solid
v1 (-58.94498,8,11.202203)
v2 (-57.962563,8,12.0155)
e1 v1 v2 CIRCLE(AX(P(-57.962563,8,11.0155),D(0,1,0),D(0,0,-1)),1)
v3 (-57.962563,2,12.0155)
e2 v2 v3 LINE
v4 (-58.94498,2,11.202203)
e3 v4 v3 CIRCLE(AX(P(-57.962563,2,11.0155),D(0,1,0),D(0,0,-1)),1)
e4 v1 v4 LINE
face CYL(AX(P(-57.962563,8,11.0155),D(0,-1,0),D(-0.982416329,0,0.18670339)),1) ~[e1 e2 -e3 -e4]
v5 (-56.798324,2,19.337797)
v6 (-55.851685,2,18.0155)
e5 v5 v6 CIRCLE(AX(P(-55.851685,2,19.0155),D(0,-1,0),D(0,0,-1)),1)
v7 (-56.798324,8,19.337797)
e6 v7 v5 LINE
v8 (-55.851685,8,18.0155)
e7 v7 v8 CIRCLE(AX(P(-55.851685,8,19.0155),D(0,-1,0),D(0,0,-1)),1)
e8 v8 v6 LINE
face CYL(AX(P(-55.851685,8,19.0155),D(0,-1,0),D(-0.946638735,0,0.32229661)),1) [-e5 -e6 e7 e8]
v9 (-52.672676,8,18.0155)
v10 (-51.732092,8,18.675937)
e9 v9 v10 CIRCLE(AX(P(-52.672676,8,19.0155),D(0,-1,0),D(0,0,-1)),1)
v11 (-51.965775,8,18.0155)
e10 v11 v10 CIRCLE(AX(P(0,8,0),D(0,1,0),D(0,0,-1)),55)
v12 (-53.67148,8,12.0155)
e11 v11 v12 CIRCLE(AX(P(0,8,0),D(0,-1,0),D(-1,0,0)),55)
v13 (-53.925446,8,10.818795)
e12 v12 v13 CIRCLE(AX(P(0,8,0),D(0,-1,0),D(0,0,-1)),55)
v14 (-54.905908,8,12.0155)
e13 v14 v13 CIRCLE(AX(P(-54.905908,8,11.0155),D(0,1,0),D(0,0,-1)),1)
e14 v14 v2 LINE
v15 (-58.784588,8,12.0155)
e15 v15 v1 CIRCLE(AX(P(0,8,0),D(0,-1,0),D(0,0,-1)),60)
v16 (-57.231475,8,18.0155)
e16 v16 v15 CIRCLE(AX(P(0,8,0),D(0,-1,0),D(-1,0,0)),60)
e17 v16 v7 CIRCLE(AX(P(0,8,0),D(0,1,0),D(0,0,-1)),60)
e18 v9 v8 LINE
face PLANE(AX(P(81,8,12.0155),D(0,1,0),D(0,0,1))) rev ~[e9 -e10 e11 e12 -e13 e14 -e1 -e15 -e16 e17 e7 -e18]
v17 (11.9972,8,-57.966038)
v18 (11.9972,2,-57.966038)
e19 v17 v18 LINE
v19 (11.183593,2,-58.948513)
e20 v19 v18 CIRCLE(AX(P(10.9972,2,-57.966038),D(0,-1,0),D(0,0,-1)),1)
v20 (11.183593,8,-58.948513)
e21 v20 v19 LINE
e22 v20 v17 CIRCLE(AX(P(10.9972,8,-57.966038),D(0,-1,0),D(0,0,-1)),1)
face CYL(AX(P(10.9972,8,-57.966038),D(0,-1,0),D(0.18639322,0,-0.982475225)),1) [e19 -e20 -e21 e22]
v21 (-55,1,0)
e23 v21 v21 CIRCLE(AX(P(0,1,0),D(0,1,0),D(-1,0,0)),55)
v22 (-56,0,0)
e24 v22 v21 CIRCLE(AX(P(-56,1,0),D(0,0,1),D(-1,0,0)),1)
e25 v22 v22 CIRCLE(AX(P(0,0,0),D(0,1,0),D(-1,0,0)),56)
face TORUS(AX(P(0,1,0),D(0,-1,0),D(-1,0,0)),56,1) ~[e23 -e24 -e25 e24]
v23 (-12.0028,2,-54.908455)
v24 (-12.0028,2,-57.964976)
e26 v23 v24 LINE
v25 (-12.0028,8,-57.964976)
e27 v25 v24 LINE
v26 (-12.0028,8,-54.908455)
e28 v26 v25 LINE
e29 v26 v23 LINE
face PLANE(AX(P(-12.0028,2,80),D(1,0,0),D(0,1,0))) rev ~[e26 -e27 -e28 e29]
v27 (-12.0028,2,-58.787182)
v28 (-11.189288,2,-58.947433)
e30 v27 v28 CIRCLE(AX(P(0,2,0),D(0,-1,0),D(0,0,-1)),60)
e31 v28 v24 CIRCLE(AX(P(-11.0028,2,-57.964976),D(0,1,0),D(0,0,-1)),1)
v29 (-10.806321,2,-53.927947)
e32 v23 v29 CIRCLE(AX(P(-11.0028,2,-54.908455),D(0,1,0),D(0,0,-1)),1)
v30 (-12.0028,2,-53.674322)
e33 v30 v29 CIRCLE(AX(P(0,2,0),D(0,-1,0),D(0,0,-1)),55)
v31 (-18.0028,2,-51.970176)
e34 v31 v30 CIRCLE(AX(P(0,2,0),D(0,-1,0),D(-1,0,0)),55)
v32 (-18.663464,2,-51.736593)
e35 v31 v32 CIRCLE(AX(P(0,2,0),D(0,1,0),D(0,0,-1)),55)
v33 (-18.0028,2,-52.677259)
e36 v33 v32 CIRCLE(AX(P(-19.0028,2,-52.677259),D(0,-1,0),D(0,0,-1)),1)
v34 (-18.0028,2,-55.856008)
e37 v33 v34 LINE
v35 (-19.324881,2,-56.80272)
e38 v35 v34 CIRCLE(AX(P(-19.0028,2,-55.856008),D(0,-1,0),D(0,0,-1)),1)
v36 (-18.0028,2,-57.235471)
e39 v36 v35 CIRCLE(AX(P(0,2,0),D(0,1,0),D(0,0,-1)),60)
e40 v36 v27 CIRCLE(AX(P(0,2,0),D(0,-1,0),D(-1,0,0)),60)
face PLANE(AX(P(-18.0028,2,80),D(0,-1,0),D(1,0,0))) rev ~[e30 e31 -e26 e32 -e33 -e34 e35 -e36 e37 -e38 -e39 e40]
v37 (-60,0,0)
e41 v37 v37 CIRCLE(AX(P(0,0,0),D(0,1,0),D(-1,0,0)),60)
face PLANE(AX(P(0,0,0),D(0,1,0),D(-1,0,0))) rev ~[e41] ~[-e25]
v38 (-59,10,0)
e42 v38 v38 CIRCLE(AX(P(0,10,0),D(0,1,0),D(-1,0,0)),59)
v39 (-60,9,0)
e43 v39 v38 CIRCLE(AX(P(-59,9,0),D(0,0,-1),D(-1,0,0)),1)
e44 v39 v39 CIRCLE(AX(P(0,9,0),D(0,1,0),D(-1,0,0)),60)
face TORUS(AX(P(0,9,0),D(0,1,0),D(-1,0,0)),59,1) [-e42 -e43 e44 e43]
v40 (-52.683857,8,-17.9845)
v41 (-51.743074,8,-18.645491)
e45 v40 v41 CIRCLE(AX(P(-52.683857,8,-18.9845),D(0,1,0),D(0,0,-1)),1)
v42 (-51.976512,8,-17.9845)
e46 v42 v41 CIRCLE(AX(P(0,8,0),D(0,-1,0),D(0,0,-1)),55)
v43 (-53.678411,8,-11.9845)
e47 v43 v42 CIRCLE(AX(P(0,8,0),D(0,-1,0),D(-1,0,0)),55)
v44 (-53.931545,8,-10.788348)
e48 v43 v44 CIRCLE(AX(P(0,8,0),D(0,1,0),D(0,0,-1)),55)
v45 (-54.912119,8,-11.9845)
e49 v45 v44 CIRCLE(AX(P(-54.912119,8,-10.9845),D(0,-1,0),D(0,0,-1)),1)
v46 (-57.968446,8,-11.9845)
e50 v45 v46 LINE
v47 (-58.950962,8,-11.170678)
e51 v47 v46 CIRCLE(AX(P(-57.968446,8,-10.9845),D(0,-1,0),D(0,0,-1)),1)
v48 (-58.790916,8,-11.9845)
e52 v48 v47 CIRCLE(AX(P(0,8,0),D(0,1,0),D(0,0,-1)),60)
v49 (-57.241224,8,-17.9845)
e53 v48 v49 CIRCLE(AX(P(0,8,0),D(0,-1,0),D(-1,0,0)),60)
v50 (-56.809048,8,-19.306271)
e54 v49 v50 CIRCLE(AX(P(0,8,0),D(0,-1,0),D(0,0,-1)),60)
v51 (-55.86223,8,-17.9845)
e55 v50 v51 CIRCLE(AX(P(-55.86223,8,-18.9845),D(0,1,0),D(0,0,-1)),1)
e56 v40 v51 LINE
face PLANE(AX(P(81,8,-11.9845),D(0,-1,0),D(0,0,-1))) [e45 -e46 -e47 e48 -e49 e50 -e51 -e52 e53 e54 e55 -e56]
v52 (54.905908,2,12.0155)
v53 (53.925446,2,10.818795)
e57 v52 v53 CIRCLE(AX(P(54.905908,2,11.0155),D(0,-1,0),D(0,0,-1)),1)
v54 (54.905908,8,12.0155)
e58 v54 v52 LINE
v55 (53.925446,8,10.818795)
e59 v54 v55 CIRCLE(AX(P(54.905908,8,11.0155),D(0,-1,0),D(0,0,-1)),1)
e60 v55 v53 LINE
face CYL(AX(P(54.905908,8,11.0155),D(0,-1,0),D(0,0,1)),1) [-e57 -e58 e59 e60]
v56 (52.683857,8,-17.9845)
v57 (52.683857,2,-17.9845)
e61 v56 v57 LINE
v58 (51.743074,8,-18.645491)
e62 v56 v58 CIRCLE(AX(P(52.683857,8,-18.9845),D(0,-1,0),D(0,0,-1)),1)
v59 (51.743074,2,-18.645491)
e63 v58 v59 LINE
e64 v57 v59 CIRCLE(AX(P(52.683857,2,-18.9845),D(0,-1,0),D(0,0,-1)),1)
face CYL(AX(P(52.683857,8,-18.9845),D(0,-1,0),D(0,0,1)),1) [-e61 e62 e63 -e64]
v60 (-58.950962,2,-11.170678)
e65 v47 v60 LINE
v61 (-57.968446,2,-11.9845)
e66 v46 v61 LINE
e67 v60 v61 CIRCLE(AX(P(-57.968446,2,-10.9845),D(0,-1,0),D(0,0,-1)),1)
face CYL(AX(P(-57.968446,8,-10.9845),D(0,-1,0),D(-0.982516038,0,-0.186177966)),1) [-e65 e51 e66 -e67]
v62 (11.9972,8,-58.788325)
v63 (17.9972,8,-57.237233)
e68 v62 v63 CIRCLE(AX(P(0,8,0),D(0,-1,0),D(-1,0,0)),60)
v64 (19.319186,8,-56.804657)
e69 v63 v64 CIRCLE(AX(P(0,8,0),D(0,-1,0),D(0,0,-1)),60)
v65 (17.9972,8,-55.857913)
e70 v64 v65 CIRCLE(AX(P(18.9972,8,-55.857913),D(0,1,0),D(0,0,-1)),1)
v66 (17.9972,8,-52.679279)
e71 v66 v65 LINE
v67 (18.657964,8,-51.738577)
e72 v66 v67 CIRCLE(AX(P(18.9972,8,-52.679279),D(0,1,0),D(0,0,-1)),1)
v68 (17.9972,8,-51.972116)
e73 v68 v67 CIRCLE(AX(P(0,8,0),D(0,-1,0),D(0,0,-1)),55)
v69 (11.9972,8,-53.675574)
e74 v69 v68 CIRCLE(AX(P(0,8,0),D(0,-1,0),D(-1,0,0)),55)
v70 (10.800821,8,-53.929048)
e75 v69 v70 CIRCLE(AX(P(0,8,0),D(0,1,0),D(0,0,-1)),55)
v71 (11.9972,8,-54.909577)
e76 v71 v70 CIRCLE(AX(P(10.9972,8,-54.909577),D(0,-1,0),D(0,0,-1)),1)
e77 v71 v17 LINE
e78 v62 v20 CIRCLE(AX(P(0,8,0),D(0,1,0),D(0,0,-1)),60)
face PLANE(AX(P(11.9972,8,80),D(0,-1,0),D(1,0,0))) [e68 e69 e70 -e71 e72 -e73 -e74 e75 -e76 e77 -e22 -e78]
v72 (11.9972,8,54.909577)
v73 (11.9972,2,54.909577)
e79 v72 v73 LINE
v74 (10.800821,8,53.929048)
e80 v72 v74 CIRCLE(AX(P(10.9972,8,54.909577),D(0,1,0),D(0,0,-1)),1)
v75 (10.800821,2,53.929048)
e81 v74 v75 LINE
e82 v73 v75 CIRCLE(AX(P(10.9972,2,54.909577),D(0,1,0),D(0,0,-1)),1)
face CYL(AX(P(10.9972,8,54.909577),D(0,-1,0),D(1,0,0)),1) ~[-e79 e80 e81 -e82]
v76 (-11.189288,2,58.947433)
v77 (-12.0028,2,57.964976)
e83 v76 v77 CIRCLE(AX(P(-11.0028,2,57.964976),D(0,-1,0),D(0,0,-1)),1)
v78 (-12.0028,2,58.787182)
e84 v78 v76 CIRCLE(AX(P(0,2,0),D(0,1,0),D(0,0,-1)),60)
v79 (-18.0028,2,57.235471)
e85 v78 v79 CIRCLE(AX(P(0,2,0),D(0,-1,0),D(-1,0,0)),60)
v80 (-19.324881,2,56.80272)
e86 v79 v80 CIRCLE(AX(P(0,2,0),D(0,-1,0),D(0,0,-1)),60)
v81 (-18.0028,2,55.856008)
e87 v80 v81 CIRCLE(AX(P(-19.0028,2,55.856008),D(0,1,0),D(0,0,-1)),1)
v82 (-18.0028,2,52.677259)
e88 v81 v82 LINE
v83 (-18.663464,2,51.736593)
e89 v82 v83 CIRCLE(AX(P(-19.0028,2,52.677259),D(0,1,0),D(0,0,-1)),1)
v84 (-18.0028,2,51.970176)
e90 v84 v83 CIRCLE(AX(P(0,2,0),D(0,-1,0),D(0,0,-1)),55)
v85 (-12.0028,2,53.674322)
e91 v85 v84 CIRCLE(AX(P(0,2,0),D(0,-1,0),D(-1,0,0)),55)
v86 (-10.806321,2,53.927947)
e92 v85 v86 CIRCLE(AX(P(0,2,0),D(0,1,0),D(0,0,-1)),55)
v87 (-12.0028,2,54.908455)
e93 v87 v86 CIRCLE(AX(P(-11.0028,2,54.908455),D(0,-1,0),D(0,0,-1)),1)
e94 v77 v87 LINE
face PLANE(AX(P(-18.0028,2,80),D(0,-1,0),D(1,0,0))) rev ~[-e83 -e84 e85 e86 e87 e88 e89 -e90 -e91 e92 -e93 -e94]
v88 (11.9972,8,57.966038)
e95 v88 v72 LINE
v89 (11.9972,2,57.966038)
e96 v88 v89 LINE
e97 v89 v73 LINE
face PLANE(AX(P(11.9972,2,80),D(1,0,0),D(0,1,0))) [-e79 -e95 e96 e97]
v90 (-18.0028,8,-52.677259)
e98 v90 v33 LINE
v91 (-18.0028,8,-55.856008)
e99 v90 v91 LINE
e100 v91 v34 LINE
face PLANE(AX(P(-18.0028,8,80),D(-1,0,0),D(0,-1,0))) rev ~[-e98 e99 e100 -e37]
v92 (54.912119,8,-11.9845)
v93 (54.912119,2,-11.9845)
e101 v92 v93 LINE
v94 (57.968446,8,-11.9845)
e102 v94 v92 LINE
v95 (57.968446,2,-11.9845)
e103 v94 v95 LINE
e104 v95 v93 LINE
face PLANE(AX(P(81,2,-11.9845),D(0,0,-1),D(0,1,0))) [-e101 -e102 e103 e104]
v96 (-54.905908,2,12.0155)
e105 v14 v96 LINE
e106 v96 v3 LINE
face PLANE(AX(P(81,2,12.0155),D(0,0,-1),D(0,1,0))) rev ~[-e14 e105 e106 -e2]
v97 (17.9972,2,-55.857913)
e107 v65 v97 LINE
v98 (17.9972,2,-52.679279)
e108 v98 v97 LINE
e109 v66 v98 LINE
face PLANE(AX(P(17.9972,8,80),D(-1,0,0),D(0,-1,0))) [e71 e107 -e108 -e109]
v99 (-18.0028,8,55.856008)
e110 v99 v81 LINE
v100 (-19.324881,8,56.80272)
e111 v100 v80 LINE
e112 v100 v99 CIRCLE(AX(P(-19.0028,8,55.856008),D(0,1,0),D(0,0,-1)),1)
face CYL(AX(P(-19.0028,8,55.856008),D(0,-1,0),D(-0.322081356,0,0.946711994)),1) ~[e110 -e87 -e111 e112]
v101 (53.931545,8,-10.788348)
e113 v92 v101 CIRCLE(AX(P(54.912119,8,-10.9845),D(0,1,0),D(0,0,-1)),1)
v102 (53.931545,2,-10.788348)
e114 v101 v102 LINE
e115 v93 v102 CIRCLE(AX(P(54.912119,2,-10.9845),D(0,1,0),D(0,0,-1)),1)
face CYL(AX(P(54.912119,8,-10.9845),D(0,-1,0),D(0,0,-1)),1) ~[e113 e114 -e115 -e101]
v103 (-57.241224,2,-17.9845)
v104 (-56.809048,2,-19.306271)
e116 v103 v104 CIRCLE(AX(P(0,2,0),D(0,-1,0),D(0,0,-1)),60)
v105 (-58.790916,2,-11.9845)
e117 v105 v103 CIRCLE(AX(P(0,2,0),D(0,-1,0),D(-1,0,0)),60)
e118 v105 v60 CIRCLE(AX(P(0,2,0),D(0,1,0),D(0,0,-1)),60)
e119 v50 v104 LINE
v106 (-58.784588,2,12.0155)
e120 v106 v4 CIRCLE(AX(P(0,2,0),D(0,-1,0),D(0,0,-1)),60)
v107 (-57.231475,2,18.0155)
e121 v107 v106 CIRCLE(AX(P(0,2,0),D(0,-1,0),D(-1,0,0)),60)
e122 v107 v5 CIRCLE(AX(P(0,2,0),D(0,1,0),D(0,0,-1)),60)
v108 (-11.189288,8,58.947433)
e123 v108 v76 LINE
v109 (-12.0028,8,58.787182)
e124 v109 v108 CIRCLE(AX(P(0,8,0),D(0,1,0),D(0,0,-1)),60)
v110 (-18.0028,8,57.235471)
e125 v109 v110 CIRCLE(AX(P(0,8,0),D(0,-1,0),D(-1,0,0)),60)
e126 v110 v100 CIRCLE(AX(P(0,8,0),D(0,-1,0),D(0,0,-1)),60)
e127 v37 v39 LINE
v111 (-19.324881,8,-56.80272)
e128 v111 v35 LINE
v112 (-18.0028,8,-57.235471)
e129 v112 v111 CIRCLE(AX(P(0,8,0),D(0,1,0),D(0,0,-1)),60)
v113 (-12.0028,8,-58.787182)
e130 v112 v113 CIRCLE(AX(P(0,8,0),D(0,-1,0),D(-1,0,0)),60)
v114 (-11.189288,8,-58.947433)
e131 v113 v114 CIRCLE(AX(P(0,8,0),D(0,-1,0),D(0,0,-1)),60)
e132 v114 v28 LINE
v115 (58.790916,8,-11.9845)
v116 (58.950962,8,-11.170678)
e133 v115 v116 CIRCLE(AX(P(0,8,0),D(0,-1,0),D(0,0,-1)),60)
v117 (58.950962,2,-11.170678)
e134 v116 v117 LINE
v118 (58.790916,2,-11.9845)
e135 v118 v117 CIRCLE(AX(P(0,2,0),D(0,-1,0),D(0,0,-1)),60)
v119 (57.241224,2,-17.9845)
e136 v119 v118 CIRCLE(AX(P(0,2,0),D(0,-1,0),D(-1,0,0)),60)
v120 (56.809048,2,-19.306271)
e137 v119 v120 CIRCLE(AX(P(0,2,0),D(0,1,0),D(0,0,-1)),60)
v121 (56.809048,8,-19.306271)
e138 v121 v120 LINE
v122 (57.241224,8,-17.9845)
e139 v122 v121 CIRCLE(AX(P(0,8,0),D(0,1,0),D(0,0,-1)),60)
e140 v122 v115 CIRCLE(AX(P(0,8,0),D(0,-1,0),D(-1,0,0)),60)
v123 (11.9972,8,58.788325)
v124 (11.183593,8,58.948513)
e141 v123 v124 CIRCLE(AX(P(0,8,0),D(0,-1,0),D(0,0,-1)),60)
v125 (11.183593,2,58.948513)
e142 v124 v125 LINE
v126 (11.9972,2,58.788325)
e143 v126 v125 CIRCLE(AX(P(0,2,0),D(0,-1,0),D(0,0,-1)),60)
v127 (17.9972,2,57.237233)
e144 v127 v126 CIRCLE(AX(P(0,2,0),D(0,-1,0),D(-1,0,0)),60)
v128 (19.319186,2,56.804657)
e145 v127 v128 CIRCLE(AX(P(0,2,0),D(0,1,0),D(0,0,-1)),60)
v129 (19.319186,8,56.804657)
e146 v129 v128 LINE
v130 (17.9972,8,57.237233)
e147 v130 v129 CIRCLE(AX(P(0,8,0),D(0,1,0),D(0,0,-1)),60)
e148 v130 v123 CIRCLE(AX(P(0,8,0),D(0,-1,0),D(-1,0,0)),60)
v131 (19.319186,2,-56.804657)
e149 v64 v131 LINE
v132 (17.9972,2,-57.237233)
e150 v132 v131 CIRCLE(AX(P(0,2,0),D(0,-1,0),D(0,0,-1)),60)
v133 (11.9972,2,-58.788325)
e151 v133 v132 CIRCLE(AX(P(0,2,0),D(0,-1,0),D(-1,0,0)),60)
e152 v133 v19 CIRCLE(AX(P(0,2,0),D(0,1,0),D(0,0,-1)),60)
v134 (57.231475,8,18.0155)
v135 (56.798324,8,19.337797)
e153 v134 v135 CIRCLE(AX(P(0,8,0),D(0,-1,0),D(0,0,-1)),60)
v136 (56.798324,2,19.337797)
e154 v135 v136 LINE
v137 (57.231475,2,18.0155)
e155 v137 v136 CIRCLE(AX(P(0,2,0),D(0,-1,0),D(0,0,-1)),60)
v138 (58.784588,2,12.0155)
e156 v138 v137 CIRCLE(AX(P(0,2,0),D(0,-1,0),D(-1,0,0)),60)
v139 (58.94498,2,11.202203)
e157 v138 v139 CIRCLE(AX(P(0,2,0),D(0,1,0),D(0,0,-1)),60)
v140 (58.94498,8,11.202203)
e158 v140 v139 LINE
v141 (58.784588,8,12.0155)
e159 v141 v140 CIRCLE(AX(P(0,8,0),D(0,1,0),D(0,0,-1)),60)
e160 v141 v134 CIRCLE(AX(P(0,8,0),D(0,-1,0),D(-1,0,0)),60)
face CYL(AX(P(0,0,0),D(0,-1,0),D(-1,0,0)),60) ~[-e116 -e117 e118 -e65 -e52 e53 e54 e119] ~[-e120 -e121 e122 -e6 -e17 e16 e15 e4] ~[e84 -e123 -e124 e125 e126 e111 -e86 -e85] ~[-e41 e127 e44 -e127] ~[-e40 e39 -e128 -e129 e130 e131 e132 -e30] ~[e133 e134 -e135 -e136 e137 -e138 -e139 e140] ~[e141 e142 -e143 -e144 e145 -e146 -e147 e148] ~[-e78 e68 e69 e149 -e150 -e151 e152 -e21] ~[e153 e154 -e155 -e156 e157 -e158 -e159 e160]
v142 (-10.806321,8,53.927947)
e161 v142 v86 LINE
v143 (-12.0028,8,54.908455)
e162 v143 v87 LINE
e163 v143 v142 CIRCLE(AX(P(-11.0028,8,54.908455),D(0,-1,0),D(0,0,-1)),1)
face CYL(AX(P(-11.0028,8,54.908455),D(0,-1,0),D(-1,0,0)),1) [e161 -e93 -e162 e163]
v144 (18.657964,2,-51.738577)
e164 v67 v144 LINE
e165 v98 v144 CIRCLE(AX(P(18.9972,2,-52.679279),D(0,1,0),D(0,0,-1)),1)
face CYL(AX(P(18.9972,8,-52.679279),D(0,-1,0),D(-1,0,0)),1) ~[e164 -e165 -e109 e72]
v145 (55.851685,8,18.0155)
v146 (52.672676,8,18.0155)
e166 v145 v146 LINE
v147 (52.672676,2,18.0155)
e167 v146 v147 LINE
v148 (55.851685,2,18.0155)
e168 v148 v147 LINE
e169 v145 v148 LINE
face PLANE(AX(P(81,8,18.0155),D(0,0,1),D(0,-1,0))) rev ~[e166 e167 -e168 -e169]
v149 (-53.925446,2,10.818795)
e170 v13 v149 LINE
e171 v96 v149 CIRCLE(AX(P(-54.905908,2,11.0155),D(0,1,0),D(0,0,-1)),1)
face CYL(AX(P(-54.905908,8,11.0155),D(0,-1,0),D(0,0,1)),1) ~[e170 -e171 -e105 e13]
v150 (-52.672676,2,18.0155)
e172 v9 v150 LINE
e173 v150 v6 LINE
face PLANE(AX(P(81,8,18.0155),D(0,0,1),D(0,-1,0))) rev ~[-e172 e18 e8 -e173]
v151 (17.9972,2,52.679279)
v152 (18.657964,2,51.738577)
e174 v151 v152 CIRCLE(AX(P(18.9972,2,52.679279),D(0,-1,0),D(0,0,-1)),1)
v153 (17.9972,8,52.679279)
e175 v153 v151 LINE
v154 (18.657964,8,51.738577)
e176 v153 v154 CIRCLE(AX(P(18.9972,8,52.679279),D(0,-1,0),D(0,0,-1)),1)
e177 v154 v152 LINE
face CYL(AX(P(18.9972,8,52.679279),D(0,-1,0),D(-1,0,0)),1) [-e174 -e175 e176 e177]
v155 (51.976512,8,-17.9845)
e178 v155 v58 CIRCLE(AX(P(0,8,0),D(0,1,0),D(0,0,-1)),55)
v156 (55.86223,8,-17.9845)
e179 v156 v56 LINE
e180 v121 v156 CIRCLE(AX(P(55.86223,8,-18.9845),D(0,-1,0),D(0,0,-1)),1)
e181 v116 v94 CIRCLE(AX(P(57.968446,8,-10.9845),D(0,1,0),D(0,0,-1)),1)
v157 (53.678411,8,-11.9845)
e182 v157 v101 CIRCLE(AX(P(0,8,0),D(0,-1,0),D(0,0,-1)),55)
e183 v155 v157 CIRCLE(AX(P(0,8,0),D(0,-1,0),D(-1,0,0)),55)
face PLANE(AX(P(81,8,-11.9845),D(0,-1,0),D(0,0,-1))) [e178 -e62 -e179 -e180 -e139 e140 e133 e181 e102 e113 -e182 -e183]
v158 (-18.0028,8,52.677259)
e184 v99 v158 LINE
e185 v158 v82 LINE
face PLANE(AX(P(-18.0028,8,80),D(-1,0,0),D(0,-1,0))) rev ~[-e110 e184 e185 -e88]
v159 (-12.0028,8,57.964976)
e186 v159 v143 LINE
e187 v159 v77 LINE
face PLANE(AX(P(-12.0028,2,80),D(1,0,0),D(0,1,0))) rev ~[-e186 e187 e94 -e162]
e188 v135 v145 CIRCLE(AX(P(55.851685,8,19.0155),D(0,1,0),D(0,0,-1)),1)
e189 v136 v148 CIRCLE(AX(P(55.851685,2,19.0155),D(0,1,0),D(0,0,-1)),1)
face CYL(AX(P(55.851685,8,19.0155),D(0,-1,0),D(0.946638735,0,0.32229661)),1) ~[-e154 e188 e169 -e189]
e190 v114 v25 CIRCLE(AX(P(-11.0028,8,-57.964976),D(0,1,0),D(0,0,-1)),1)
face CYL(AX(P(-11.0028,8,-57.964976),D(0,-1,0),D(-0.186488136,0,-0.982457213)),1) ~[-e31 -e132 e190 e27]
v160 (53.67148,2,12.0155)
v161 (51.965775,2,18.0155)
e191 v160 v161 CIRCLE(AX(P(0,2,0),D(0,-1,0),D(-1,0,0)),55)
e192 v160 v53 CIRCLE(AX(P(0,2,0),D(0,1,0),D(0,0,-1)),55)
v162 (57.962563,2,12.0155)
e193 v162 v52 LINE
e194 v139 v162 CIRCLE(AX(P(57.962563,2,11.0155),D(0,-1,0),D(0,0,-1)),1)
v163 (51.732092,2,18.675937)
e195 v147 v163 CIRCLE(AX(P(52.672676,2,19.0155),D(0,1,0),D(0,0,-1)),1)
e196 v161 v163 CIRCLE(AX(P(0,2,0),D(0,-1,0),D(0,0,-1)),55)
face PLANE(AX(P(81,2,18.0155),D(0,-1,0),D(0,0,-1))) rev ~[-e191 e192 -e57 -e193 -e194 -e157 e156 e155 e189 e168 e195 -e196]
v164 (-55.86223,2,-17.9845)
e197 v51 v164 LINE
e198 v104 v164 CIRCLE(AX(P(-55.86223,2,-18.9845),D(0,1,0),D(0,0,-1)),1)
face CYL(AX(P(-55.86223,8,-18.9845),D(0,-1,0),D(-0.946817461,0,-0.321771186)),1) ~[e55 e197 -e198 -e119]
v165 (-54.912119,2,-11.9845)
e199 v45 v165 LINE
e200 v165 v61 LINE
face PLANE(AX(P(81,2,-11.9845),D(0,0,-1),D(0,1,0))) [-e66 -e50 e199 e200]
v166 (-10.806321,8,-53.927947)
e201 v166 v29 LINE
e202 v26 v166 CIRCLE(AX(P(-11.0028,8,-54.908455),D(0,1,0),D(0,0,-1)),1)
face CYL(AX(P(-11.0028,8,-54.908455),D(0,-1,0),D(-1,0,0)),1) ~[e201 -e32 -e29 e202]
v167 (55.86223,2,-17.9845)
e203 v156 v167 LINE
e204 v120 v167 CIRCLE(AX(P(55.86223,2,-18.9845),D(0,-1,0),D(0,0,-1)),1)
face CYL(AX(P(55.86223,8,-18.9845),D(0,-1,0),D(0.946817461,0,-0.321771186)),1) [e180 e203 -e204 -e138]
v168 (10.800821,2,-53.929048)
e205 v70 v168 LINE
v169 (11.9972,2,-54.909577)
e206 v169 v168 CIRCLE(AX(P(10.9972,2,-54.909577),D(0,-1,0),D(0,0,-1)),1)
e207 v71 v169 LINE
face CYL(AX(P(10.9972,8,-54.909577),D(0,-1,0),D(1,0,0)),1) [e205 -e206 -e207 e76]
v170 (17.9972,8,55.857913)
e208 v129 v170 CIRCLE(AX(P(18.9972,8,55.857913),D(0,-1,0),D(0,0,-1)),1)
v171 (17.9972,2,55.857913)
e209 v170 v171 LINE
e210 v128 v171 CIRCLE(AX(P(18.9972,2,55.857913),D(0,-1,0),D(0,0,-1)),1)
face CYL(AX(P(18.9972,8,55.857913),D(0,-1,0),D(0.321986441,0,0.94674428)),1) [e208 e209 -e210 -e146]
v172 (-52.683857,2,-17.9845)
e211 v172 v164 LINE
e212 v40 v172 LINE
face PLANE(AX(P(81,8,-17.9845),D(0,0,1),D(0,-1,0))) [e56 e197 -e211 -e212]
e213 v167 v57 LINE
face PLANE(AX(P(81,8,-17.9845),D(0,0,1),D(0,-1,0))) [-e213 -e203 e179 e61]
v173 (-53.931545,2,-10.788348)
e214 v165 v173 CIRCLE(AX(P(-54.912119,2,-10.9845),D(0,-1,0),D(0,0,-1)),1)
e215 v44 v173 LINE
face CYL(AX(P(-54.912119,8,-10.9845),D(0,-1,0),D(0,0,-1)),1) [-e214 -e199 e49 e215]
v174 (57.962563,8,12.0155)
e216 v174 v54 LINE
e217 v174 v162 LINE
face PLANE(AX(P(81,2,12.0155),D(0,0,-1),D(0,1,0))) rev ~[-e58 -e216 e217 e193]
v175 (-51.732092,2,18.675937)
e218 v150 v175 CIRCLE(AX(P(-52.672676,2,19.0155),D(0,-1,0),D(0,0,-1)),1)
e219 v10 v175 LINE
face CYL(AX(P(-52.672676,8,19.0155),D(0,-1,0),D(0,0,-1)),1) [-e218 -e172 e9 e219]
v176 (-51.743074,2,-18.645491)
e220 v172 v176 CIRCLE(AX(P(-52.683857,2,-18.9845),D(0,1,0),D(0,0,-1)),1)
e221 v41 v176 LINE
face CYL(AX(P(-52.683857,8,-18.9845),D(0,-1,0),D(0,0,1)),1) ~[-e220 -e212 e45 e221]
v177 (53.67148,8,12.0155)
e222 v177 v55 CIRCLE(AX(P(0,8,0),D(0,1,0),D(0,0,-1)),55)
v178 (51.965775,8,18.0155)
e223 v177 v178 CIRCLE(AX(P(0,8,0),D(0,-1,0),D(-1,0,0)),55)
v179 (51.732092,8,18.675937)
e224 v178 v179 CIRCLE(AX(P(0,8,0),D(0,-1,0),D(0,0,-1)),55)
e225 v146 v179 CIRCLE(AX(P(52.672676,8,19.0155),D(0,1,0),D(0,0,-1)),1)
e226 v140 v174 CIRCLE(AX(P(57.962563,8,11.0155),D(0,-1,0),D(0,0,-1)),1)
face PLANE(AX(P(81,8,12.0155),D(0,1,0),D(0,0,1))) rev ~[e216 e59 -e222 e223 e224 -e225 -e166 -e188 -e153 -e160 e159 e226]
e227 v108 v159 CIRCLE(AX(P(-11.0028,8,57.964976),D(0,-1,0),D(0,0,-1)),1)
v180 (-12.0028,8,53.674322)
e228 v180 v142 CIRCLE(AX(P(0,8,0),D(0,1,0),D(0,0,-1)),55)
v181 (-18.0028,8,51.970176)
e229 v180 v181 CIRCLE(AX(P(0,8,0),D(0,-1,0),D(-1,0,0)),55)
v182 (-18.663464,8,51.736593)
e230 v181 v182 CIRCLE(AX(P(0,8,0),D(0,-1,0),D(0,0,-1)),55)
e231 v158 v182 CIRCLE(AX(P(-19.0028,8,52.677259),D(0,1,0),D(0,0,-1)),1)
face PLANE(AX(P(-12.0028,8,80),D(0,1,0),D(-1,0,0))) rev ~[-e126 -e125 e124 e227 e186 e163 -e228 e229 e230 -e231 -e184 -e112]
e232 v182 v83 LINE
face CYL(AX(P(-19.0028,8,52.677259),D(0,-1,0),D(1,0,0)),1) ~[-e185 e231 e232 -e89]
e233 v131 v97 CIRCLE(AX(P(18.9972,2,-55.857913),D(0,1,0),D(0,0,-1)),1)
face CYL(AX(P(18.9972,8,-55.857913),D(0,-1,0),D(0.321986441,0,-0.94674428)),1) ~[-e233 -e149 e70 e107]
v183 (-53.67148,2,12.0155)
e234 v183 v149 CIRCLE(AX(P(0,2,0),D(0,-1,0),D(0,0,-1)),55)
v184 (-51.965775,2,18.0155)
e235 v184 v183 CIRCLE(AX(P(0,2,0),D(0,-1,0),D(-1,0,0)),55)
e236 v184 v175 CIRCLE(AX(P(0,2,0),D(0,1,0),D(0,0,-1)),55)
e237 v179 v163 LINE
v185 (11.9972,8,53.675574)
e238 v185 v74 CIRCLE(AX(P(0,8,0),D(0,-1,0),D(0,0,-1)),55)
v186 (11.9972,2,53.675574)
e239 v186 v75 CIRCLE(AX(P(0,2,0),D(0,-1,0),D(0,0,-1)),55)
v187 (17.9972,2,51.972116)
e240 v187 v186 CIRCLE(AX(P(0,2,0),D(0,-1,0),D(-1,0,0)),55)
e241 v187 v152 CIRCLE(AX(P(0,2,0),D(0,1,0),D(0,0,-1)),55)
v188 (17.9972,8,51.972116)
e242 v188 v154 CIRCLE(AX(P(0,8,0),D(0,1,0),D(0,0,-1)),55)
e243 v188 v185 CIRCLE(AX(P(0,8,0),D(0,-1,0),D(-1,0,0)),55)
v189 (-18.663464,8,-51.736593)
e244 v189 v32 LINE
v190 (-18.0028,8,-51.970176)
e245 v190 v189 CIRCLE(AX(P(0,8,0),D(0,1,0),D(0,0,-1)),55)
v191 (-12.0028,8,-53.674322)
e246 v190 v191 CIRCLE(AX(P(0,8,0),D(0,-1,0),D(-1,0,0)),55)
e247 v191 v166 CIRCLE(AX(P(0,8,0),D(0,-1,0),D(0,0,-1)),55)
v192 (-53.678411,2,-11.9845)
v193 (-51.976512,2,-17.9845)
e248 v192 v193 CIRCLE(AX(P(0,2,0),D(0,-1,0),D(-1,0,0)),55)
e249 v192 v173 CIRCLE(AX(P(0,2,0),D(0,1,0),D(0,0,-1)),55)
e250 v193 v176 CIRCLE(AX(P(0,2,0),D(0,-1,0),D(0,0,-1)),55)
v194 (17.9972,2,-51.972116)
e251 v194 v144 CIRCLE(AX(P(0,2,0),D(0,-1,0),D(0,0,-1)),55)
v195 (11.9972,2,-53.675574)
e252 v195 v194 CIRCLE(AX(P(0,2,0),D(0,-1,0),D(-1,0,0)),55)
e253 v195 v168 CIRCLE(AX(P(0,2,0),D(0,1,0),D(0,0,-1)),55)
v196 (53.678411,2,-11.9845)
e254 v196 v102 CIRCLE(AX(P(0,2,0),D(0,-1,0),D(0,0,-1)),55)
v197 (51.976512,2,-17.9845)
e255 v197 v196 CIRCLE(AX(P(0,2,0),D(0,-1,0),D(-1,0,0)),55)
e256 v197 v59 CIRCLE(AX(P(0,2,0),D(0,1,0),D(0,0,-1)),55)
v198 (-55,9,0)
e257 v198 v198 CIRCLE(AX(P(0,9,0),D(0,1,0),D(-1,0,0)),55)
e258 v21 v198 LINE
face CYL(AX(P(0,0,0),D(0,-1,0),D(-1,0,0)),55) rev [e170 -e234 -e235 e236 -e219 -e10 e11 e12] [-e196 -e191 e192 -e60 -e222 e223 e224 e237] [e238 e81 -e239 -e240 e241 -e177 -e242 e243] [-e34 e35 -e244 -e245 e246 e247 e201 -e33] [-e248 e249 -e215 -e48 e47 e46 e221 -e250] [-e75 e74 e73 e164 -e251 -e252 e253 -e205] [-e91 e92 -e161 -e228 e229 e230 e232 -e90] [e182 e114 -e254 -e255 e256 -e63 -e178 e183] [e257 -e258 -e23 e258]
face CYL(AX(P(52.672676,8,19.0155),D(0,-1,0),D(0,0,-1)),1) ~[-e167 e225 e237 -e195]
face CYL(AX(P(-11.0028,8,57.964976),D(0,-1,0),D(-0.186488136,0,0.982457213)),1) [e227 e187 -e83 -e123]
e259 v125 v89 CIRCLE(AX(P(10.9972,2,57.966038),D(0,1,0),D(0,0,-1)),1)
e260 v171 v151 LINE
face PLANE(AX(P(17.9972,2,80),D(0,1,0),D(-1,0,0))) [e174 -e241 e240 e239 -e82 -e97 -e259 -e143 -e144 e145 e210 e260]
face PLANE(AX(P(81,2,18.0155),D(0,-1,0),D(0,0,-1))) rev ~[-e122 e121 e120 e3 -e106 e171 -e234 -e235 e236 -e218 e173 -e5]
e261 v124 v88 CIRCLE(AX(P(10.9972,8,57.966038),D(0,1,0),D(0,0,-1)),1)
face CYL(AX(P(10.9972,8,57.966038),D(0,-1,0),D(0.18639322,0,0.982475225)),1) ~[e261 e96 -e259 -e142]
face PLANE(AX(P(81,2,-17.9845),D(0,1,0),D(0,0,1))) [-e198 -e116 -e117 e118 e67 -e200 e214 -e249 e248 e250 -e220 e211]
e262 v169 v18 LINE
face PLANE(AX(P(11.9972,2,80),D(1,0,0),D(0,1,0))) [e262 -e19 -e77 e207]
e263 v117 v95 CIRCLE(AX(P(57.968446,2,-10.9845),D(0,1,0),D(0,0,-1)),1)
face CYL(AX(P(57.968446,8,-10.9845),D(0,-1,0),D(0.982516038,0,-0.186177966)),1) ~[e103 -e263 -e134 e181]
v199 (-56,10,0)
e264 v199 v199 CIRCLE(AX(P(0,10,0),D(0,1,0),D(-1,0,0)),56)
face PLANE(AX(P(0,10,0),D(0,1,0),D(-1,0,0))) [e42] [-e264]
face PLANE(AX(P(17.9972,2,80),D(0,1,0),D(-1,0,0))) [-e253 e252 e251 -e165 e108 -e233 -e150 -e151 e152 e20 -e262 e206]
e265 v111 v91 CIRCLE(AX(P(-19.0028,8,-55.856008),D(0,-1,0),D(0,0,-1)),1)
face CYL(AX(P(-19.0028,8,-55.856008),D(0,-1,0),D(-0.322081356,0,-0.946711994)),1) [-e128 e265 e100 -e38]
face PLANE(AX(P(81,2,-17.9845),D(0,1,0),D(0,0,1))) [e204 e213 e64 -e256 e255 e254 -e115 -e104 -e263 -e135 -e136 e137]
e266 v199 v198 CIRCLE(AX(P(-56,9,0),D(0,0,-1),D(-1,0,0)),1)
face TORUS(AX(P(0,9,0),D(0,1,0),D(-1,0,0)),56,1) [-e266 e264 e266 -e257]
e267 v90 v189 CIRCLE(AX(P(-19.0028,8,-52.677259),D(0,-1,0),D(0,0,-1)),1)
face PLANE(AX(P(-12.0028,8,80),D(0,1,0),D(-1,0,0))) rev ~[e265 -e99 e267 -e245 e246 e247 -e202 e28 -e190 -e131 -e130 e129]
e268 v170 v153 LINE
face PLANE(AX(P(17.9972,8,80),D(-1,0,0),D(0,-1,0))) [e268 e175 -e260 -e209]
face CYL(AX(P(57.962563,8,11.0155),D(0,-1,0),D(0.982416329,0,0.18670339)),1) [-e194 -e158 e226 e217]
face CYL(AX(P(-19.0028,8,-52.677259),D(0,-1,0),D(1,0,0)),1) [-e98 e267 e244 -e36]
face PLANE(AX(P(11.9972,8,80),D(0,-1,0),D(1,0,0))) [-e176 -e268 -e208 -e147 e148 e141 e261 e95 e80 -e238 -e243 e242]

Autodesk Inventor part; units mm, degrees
sketch "Esquisse1" plane through (0, 0, 0) normal (0, 1, 0) x (-1, 0, 0)
  line L0 (-42.5, 28) -> (42.5, 28) construction
  line L1 (42.5, 28) -> (42.5, -28) construction
  line L2 (42.5, -28) -> (-42.5, -28) construction
  line L3 (-42.5, -28) -> (-42.5, 28) construction
  line L4 (-42.5, 28) -> (42.5, -28) construction
  line L5 (42.5, 28) -> (-42.5, -28) construction
  circle A0 centre (0, 0) radius 60
  circle A1 centre (0, 0) radius 55
  line L6 (0, 0) -> (94, 94) construction
  line L7 (0, 0) -> (132.9361, 0) construction
  line L8 (0, 0) -> (-94, 94) construction
  line L9 (0, 0) -> (-94, -94) construction
  line L10 (0, 0) -> (94, -94) construction
  arc A2 (42.4264, 42.4264) -> (110, 0) centre (152.2245, 142.2782) ccw construction
  arc A3 (110, 0) -> (42.4264, -42.4264) centre (152.2245, -142.2782) ccw construction
  arc A4 (-42.4264, 42.4264) -> (0, 110) centre (-142.2782, 152.2245) ccw construction
  arc A5 (0, 110) -> (42.4264, 42.4264) centre (142.2782, 152.2245) ccw construction
  arc A6 (-42.4264, -42.4264) -> (-110, 0) centre (-152.2245, -142.2782) ccw construction
  arc A7 (-110, 0) -> (-42.4264, 42.4264) centre (-152.2245, 142.2782) ccw construction
  arc A8 (42.4264, -42.4264) -> (0, -110) centre (142.2782, -152.2245) ccw construction
  arc A9 (0, -110) -> (-42.4264, -42.4264) centre (-142.2782, -152.2245) ccw construction
  arc A10 (-57.9555, 15.5291) -> (-55, 95.2628) centre (-199.3288, 60.6911) ccw construction
  arc A11 (-55, 95.2628) -> (15.5291, 57.9555) centre (47.1043, 202.9694) ccw construction
  arc A12 (15.5291, -57.9555) -> (-55, -95.2628) centre (47.1043, -202.9694) ccw construction
  arc A13 (-55, -95.2628) -> (-57.9555, -15.5291) centre (-199.3288, -60.6911) ccw construction
  line L11 (0, 110) -> (0, 57.9555) construction
  line L12 (-55, -95.2628) -> (0, 0) construction
  line L13 (-55, 95.2628) -> (0, 0) construction
  line L14 (95.3744, -14.2176) -> (35.3744, 89.7054) construction
  line L15 (35.3744, 89.7054) -> (-95.3744, 14.2176) construction
  line L16 (-95.3744, 14.2176) -> (-35.3744, -89.7054) construction
  line L17 (-35.3744, -89.7054) -> (95.3744, -14.2176) construction
  line L18 (95.3744, -14.2176) -> (-95.3744, 14.2176) construction
  line L19 (35.3744, 89.7054) -> (-35.3744, -89.7054) construction
  dimension "d2" = 120
  dimension "d0" = 85
  dimension "d1" = 56
  dimension "d3" = 110
  dimension "d4" = 45
  dimension "d7" = 360
  dimension "d11" = 360
  dimension "d15" = 360
extrude "Extrusion1" add sketch "Esquisse1" along normal blind 10
ref_plane "Plan de construction1" through (81, 0, 0) normal (1, 0, 0) x (0, 1, 0)
sketch "Esquisse2" plane through (81, 0, 0) normal (1, 0, 0) x (0, 1, 0)
  line L0 (8, 18.0155) -> (2, 18.0155)
  line L1 (2, 18.0155) -> (2, 12.0155)
  line L2 (2, 12.0155) -> (8, 12.0155)
  line L3 (8, 12.0155) -> (8, 18.0155)
  line L4 (8, 18.0155) -> (2, 12.0155) construction
  line L5 (2, 18.0155) -> (8, 12.0155) construction
  line L6 (10.0489, 0.0155) -> (-6.9511, 0.0155) construction
  line L7 (8, -17.9845) -> (2, -17.9845)
  line L8 (2, -17.9845) -> (2, -11.9845)
  line L9 (2, -11.9845) -> (8, -11.9845)
  line L10 (8, -11.9845) -> (8, -17.9845)
  point P0 (0, 0)
  point P1 (5, 15.0155)
  dimension "d22" = 15
  dimension "d26" = 6
  dimension "d27" = 6
extrude "Extrusion2" cut sketch "Esquisse2" against normal blind 150
ref_plane "Plan de construction2" through (0, 0, 80) normal (0, 0, 1) x (1, 0, 0)
sketch "Esquisse3" plane through (0, 0, 80) normal (0, 0, 1) x (1, 0, 0)
  line L0 (-0.0028, -2.9025) -> (-0.0028, 13.0975) construction
  line L1 (-18.0028, 2) -> (-12.0028, 2)
  line L2 (-12.0028, 2) -> (-12.0028, 8)
  line L3 (-12.0028, 8) -> (-18.0028, 8)
  line L4 (-18.0028, 8) -> (-18.0028, 2)
  line L5 (17.9972, 2) -> (11.9972, 2)
  line L6 (11.9972, 2) -> (11.9972, 8)
  line L7 (11.9972, 8) -> (17.9972, 8)
  line L8 (17.9972, 8) -> (17.9972, 2)
  point P0 (0, 0)
  point P1 (-15.0028, 5)
  point P2 (14.9972, 5)
  dimension "d28" = 6
  dimension "d29" = 6
  dimension "d31" = 15
  dimension "d32" = 3
  dimension "d33" = 3
extrude "Extrusion3" cut sketch "Esquisse3" against normal blind 150
ref_plane "Plan de construction3" through (-35.3744, 0, 89.7054) normal (0.5, 0, 0.866) x (0, 1, 0)
sketch "Esquisse4" plane through (-35.3744, 0, 89.7054) normal (0.5, 0, 0.866) x (0, 1, 0)
  line L0 (0, -75.4878) -> (4, -75.4878) construction
fillet "Congé1" radius 1 3 edges at (60, 10, 0) (55, 10, 0) (55, 0, 0)
fillet "Congé2" radius 1 32 edges at (-53.6715, 5, 12.0155) (53.6715, 5, 12.0155) (-58.7846, 5, 12.0155) (58.7846, 5, 12.0155) (-57.2315, 5, 18.0155) (57.2315, 5, 18.0155) (-51.9658, 5, 18.0155) (51.9658, 5, 18.0155) (53.6784, 5, -11.9845) (-53.6784, 5, -11.9845) (51.9765, 5, -17.9845) (-51.9765, 5, -17.9845) (57.2412, 5, -17.9845) (-57.2412, 5, -17.9845) (58.7909, 5, -11.9845) (-58.7909, 5, -11.9845) (11.9972, 5, 58.7883) (11.9972, 5, -58.7883) (17.9972, 5, 57.2372) (17.9972, 5, -57.2372) (-18.0028, 5, 51.9702) (-18.0028, 5, -51.9702) (-12.0028, 5, 53.6743) (-12.0028, 5, -53.6743) (11.9972, 5, 53.6756) (11.9972, 5, -53.6756) (17.9972, 5, 51.9721) (17.9972, 5, -51.9721) (-18.0028, 5, 57.2355) (-18.0028, 5, -57.2355) (-12.0028, 5, 58.7872) (-12.0028, 5, -58.7872)
properties part number "Attache centre"
